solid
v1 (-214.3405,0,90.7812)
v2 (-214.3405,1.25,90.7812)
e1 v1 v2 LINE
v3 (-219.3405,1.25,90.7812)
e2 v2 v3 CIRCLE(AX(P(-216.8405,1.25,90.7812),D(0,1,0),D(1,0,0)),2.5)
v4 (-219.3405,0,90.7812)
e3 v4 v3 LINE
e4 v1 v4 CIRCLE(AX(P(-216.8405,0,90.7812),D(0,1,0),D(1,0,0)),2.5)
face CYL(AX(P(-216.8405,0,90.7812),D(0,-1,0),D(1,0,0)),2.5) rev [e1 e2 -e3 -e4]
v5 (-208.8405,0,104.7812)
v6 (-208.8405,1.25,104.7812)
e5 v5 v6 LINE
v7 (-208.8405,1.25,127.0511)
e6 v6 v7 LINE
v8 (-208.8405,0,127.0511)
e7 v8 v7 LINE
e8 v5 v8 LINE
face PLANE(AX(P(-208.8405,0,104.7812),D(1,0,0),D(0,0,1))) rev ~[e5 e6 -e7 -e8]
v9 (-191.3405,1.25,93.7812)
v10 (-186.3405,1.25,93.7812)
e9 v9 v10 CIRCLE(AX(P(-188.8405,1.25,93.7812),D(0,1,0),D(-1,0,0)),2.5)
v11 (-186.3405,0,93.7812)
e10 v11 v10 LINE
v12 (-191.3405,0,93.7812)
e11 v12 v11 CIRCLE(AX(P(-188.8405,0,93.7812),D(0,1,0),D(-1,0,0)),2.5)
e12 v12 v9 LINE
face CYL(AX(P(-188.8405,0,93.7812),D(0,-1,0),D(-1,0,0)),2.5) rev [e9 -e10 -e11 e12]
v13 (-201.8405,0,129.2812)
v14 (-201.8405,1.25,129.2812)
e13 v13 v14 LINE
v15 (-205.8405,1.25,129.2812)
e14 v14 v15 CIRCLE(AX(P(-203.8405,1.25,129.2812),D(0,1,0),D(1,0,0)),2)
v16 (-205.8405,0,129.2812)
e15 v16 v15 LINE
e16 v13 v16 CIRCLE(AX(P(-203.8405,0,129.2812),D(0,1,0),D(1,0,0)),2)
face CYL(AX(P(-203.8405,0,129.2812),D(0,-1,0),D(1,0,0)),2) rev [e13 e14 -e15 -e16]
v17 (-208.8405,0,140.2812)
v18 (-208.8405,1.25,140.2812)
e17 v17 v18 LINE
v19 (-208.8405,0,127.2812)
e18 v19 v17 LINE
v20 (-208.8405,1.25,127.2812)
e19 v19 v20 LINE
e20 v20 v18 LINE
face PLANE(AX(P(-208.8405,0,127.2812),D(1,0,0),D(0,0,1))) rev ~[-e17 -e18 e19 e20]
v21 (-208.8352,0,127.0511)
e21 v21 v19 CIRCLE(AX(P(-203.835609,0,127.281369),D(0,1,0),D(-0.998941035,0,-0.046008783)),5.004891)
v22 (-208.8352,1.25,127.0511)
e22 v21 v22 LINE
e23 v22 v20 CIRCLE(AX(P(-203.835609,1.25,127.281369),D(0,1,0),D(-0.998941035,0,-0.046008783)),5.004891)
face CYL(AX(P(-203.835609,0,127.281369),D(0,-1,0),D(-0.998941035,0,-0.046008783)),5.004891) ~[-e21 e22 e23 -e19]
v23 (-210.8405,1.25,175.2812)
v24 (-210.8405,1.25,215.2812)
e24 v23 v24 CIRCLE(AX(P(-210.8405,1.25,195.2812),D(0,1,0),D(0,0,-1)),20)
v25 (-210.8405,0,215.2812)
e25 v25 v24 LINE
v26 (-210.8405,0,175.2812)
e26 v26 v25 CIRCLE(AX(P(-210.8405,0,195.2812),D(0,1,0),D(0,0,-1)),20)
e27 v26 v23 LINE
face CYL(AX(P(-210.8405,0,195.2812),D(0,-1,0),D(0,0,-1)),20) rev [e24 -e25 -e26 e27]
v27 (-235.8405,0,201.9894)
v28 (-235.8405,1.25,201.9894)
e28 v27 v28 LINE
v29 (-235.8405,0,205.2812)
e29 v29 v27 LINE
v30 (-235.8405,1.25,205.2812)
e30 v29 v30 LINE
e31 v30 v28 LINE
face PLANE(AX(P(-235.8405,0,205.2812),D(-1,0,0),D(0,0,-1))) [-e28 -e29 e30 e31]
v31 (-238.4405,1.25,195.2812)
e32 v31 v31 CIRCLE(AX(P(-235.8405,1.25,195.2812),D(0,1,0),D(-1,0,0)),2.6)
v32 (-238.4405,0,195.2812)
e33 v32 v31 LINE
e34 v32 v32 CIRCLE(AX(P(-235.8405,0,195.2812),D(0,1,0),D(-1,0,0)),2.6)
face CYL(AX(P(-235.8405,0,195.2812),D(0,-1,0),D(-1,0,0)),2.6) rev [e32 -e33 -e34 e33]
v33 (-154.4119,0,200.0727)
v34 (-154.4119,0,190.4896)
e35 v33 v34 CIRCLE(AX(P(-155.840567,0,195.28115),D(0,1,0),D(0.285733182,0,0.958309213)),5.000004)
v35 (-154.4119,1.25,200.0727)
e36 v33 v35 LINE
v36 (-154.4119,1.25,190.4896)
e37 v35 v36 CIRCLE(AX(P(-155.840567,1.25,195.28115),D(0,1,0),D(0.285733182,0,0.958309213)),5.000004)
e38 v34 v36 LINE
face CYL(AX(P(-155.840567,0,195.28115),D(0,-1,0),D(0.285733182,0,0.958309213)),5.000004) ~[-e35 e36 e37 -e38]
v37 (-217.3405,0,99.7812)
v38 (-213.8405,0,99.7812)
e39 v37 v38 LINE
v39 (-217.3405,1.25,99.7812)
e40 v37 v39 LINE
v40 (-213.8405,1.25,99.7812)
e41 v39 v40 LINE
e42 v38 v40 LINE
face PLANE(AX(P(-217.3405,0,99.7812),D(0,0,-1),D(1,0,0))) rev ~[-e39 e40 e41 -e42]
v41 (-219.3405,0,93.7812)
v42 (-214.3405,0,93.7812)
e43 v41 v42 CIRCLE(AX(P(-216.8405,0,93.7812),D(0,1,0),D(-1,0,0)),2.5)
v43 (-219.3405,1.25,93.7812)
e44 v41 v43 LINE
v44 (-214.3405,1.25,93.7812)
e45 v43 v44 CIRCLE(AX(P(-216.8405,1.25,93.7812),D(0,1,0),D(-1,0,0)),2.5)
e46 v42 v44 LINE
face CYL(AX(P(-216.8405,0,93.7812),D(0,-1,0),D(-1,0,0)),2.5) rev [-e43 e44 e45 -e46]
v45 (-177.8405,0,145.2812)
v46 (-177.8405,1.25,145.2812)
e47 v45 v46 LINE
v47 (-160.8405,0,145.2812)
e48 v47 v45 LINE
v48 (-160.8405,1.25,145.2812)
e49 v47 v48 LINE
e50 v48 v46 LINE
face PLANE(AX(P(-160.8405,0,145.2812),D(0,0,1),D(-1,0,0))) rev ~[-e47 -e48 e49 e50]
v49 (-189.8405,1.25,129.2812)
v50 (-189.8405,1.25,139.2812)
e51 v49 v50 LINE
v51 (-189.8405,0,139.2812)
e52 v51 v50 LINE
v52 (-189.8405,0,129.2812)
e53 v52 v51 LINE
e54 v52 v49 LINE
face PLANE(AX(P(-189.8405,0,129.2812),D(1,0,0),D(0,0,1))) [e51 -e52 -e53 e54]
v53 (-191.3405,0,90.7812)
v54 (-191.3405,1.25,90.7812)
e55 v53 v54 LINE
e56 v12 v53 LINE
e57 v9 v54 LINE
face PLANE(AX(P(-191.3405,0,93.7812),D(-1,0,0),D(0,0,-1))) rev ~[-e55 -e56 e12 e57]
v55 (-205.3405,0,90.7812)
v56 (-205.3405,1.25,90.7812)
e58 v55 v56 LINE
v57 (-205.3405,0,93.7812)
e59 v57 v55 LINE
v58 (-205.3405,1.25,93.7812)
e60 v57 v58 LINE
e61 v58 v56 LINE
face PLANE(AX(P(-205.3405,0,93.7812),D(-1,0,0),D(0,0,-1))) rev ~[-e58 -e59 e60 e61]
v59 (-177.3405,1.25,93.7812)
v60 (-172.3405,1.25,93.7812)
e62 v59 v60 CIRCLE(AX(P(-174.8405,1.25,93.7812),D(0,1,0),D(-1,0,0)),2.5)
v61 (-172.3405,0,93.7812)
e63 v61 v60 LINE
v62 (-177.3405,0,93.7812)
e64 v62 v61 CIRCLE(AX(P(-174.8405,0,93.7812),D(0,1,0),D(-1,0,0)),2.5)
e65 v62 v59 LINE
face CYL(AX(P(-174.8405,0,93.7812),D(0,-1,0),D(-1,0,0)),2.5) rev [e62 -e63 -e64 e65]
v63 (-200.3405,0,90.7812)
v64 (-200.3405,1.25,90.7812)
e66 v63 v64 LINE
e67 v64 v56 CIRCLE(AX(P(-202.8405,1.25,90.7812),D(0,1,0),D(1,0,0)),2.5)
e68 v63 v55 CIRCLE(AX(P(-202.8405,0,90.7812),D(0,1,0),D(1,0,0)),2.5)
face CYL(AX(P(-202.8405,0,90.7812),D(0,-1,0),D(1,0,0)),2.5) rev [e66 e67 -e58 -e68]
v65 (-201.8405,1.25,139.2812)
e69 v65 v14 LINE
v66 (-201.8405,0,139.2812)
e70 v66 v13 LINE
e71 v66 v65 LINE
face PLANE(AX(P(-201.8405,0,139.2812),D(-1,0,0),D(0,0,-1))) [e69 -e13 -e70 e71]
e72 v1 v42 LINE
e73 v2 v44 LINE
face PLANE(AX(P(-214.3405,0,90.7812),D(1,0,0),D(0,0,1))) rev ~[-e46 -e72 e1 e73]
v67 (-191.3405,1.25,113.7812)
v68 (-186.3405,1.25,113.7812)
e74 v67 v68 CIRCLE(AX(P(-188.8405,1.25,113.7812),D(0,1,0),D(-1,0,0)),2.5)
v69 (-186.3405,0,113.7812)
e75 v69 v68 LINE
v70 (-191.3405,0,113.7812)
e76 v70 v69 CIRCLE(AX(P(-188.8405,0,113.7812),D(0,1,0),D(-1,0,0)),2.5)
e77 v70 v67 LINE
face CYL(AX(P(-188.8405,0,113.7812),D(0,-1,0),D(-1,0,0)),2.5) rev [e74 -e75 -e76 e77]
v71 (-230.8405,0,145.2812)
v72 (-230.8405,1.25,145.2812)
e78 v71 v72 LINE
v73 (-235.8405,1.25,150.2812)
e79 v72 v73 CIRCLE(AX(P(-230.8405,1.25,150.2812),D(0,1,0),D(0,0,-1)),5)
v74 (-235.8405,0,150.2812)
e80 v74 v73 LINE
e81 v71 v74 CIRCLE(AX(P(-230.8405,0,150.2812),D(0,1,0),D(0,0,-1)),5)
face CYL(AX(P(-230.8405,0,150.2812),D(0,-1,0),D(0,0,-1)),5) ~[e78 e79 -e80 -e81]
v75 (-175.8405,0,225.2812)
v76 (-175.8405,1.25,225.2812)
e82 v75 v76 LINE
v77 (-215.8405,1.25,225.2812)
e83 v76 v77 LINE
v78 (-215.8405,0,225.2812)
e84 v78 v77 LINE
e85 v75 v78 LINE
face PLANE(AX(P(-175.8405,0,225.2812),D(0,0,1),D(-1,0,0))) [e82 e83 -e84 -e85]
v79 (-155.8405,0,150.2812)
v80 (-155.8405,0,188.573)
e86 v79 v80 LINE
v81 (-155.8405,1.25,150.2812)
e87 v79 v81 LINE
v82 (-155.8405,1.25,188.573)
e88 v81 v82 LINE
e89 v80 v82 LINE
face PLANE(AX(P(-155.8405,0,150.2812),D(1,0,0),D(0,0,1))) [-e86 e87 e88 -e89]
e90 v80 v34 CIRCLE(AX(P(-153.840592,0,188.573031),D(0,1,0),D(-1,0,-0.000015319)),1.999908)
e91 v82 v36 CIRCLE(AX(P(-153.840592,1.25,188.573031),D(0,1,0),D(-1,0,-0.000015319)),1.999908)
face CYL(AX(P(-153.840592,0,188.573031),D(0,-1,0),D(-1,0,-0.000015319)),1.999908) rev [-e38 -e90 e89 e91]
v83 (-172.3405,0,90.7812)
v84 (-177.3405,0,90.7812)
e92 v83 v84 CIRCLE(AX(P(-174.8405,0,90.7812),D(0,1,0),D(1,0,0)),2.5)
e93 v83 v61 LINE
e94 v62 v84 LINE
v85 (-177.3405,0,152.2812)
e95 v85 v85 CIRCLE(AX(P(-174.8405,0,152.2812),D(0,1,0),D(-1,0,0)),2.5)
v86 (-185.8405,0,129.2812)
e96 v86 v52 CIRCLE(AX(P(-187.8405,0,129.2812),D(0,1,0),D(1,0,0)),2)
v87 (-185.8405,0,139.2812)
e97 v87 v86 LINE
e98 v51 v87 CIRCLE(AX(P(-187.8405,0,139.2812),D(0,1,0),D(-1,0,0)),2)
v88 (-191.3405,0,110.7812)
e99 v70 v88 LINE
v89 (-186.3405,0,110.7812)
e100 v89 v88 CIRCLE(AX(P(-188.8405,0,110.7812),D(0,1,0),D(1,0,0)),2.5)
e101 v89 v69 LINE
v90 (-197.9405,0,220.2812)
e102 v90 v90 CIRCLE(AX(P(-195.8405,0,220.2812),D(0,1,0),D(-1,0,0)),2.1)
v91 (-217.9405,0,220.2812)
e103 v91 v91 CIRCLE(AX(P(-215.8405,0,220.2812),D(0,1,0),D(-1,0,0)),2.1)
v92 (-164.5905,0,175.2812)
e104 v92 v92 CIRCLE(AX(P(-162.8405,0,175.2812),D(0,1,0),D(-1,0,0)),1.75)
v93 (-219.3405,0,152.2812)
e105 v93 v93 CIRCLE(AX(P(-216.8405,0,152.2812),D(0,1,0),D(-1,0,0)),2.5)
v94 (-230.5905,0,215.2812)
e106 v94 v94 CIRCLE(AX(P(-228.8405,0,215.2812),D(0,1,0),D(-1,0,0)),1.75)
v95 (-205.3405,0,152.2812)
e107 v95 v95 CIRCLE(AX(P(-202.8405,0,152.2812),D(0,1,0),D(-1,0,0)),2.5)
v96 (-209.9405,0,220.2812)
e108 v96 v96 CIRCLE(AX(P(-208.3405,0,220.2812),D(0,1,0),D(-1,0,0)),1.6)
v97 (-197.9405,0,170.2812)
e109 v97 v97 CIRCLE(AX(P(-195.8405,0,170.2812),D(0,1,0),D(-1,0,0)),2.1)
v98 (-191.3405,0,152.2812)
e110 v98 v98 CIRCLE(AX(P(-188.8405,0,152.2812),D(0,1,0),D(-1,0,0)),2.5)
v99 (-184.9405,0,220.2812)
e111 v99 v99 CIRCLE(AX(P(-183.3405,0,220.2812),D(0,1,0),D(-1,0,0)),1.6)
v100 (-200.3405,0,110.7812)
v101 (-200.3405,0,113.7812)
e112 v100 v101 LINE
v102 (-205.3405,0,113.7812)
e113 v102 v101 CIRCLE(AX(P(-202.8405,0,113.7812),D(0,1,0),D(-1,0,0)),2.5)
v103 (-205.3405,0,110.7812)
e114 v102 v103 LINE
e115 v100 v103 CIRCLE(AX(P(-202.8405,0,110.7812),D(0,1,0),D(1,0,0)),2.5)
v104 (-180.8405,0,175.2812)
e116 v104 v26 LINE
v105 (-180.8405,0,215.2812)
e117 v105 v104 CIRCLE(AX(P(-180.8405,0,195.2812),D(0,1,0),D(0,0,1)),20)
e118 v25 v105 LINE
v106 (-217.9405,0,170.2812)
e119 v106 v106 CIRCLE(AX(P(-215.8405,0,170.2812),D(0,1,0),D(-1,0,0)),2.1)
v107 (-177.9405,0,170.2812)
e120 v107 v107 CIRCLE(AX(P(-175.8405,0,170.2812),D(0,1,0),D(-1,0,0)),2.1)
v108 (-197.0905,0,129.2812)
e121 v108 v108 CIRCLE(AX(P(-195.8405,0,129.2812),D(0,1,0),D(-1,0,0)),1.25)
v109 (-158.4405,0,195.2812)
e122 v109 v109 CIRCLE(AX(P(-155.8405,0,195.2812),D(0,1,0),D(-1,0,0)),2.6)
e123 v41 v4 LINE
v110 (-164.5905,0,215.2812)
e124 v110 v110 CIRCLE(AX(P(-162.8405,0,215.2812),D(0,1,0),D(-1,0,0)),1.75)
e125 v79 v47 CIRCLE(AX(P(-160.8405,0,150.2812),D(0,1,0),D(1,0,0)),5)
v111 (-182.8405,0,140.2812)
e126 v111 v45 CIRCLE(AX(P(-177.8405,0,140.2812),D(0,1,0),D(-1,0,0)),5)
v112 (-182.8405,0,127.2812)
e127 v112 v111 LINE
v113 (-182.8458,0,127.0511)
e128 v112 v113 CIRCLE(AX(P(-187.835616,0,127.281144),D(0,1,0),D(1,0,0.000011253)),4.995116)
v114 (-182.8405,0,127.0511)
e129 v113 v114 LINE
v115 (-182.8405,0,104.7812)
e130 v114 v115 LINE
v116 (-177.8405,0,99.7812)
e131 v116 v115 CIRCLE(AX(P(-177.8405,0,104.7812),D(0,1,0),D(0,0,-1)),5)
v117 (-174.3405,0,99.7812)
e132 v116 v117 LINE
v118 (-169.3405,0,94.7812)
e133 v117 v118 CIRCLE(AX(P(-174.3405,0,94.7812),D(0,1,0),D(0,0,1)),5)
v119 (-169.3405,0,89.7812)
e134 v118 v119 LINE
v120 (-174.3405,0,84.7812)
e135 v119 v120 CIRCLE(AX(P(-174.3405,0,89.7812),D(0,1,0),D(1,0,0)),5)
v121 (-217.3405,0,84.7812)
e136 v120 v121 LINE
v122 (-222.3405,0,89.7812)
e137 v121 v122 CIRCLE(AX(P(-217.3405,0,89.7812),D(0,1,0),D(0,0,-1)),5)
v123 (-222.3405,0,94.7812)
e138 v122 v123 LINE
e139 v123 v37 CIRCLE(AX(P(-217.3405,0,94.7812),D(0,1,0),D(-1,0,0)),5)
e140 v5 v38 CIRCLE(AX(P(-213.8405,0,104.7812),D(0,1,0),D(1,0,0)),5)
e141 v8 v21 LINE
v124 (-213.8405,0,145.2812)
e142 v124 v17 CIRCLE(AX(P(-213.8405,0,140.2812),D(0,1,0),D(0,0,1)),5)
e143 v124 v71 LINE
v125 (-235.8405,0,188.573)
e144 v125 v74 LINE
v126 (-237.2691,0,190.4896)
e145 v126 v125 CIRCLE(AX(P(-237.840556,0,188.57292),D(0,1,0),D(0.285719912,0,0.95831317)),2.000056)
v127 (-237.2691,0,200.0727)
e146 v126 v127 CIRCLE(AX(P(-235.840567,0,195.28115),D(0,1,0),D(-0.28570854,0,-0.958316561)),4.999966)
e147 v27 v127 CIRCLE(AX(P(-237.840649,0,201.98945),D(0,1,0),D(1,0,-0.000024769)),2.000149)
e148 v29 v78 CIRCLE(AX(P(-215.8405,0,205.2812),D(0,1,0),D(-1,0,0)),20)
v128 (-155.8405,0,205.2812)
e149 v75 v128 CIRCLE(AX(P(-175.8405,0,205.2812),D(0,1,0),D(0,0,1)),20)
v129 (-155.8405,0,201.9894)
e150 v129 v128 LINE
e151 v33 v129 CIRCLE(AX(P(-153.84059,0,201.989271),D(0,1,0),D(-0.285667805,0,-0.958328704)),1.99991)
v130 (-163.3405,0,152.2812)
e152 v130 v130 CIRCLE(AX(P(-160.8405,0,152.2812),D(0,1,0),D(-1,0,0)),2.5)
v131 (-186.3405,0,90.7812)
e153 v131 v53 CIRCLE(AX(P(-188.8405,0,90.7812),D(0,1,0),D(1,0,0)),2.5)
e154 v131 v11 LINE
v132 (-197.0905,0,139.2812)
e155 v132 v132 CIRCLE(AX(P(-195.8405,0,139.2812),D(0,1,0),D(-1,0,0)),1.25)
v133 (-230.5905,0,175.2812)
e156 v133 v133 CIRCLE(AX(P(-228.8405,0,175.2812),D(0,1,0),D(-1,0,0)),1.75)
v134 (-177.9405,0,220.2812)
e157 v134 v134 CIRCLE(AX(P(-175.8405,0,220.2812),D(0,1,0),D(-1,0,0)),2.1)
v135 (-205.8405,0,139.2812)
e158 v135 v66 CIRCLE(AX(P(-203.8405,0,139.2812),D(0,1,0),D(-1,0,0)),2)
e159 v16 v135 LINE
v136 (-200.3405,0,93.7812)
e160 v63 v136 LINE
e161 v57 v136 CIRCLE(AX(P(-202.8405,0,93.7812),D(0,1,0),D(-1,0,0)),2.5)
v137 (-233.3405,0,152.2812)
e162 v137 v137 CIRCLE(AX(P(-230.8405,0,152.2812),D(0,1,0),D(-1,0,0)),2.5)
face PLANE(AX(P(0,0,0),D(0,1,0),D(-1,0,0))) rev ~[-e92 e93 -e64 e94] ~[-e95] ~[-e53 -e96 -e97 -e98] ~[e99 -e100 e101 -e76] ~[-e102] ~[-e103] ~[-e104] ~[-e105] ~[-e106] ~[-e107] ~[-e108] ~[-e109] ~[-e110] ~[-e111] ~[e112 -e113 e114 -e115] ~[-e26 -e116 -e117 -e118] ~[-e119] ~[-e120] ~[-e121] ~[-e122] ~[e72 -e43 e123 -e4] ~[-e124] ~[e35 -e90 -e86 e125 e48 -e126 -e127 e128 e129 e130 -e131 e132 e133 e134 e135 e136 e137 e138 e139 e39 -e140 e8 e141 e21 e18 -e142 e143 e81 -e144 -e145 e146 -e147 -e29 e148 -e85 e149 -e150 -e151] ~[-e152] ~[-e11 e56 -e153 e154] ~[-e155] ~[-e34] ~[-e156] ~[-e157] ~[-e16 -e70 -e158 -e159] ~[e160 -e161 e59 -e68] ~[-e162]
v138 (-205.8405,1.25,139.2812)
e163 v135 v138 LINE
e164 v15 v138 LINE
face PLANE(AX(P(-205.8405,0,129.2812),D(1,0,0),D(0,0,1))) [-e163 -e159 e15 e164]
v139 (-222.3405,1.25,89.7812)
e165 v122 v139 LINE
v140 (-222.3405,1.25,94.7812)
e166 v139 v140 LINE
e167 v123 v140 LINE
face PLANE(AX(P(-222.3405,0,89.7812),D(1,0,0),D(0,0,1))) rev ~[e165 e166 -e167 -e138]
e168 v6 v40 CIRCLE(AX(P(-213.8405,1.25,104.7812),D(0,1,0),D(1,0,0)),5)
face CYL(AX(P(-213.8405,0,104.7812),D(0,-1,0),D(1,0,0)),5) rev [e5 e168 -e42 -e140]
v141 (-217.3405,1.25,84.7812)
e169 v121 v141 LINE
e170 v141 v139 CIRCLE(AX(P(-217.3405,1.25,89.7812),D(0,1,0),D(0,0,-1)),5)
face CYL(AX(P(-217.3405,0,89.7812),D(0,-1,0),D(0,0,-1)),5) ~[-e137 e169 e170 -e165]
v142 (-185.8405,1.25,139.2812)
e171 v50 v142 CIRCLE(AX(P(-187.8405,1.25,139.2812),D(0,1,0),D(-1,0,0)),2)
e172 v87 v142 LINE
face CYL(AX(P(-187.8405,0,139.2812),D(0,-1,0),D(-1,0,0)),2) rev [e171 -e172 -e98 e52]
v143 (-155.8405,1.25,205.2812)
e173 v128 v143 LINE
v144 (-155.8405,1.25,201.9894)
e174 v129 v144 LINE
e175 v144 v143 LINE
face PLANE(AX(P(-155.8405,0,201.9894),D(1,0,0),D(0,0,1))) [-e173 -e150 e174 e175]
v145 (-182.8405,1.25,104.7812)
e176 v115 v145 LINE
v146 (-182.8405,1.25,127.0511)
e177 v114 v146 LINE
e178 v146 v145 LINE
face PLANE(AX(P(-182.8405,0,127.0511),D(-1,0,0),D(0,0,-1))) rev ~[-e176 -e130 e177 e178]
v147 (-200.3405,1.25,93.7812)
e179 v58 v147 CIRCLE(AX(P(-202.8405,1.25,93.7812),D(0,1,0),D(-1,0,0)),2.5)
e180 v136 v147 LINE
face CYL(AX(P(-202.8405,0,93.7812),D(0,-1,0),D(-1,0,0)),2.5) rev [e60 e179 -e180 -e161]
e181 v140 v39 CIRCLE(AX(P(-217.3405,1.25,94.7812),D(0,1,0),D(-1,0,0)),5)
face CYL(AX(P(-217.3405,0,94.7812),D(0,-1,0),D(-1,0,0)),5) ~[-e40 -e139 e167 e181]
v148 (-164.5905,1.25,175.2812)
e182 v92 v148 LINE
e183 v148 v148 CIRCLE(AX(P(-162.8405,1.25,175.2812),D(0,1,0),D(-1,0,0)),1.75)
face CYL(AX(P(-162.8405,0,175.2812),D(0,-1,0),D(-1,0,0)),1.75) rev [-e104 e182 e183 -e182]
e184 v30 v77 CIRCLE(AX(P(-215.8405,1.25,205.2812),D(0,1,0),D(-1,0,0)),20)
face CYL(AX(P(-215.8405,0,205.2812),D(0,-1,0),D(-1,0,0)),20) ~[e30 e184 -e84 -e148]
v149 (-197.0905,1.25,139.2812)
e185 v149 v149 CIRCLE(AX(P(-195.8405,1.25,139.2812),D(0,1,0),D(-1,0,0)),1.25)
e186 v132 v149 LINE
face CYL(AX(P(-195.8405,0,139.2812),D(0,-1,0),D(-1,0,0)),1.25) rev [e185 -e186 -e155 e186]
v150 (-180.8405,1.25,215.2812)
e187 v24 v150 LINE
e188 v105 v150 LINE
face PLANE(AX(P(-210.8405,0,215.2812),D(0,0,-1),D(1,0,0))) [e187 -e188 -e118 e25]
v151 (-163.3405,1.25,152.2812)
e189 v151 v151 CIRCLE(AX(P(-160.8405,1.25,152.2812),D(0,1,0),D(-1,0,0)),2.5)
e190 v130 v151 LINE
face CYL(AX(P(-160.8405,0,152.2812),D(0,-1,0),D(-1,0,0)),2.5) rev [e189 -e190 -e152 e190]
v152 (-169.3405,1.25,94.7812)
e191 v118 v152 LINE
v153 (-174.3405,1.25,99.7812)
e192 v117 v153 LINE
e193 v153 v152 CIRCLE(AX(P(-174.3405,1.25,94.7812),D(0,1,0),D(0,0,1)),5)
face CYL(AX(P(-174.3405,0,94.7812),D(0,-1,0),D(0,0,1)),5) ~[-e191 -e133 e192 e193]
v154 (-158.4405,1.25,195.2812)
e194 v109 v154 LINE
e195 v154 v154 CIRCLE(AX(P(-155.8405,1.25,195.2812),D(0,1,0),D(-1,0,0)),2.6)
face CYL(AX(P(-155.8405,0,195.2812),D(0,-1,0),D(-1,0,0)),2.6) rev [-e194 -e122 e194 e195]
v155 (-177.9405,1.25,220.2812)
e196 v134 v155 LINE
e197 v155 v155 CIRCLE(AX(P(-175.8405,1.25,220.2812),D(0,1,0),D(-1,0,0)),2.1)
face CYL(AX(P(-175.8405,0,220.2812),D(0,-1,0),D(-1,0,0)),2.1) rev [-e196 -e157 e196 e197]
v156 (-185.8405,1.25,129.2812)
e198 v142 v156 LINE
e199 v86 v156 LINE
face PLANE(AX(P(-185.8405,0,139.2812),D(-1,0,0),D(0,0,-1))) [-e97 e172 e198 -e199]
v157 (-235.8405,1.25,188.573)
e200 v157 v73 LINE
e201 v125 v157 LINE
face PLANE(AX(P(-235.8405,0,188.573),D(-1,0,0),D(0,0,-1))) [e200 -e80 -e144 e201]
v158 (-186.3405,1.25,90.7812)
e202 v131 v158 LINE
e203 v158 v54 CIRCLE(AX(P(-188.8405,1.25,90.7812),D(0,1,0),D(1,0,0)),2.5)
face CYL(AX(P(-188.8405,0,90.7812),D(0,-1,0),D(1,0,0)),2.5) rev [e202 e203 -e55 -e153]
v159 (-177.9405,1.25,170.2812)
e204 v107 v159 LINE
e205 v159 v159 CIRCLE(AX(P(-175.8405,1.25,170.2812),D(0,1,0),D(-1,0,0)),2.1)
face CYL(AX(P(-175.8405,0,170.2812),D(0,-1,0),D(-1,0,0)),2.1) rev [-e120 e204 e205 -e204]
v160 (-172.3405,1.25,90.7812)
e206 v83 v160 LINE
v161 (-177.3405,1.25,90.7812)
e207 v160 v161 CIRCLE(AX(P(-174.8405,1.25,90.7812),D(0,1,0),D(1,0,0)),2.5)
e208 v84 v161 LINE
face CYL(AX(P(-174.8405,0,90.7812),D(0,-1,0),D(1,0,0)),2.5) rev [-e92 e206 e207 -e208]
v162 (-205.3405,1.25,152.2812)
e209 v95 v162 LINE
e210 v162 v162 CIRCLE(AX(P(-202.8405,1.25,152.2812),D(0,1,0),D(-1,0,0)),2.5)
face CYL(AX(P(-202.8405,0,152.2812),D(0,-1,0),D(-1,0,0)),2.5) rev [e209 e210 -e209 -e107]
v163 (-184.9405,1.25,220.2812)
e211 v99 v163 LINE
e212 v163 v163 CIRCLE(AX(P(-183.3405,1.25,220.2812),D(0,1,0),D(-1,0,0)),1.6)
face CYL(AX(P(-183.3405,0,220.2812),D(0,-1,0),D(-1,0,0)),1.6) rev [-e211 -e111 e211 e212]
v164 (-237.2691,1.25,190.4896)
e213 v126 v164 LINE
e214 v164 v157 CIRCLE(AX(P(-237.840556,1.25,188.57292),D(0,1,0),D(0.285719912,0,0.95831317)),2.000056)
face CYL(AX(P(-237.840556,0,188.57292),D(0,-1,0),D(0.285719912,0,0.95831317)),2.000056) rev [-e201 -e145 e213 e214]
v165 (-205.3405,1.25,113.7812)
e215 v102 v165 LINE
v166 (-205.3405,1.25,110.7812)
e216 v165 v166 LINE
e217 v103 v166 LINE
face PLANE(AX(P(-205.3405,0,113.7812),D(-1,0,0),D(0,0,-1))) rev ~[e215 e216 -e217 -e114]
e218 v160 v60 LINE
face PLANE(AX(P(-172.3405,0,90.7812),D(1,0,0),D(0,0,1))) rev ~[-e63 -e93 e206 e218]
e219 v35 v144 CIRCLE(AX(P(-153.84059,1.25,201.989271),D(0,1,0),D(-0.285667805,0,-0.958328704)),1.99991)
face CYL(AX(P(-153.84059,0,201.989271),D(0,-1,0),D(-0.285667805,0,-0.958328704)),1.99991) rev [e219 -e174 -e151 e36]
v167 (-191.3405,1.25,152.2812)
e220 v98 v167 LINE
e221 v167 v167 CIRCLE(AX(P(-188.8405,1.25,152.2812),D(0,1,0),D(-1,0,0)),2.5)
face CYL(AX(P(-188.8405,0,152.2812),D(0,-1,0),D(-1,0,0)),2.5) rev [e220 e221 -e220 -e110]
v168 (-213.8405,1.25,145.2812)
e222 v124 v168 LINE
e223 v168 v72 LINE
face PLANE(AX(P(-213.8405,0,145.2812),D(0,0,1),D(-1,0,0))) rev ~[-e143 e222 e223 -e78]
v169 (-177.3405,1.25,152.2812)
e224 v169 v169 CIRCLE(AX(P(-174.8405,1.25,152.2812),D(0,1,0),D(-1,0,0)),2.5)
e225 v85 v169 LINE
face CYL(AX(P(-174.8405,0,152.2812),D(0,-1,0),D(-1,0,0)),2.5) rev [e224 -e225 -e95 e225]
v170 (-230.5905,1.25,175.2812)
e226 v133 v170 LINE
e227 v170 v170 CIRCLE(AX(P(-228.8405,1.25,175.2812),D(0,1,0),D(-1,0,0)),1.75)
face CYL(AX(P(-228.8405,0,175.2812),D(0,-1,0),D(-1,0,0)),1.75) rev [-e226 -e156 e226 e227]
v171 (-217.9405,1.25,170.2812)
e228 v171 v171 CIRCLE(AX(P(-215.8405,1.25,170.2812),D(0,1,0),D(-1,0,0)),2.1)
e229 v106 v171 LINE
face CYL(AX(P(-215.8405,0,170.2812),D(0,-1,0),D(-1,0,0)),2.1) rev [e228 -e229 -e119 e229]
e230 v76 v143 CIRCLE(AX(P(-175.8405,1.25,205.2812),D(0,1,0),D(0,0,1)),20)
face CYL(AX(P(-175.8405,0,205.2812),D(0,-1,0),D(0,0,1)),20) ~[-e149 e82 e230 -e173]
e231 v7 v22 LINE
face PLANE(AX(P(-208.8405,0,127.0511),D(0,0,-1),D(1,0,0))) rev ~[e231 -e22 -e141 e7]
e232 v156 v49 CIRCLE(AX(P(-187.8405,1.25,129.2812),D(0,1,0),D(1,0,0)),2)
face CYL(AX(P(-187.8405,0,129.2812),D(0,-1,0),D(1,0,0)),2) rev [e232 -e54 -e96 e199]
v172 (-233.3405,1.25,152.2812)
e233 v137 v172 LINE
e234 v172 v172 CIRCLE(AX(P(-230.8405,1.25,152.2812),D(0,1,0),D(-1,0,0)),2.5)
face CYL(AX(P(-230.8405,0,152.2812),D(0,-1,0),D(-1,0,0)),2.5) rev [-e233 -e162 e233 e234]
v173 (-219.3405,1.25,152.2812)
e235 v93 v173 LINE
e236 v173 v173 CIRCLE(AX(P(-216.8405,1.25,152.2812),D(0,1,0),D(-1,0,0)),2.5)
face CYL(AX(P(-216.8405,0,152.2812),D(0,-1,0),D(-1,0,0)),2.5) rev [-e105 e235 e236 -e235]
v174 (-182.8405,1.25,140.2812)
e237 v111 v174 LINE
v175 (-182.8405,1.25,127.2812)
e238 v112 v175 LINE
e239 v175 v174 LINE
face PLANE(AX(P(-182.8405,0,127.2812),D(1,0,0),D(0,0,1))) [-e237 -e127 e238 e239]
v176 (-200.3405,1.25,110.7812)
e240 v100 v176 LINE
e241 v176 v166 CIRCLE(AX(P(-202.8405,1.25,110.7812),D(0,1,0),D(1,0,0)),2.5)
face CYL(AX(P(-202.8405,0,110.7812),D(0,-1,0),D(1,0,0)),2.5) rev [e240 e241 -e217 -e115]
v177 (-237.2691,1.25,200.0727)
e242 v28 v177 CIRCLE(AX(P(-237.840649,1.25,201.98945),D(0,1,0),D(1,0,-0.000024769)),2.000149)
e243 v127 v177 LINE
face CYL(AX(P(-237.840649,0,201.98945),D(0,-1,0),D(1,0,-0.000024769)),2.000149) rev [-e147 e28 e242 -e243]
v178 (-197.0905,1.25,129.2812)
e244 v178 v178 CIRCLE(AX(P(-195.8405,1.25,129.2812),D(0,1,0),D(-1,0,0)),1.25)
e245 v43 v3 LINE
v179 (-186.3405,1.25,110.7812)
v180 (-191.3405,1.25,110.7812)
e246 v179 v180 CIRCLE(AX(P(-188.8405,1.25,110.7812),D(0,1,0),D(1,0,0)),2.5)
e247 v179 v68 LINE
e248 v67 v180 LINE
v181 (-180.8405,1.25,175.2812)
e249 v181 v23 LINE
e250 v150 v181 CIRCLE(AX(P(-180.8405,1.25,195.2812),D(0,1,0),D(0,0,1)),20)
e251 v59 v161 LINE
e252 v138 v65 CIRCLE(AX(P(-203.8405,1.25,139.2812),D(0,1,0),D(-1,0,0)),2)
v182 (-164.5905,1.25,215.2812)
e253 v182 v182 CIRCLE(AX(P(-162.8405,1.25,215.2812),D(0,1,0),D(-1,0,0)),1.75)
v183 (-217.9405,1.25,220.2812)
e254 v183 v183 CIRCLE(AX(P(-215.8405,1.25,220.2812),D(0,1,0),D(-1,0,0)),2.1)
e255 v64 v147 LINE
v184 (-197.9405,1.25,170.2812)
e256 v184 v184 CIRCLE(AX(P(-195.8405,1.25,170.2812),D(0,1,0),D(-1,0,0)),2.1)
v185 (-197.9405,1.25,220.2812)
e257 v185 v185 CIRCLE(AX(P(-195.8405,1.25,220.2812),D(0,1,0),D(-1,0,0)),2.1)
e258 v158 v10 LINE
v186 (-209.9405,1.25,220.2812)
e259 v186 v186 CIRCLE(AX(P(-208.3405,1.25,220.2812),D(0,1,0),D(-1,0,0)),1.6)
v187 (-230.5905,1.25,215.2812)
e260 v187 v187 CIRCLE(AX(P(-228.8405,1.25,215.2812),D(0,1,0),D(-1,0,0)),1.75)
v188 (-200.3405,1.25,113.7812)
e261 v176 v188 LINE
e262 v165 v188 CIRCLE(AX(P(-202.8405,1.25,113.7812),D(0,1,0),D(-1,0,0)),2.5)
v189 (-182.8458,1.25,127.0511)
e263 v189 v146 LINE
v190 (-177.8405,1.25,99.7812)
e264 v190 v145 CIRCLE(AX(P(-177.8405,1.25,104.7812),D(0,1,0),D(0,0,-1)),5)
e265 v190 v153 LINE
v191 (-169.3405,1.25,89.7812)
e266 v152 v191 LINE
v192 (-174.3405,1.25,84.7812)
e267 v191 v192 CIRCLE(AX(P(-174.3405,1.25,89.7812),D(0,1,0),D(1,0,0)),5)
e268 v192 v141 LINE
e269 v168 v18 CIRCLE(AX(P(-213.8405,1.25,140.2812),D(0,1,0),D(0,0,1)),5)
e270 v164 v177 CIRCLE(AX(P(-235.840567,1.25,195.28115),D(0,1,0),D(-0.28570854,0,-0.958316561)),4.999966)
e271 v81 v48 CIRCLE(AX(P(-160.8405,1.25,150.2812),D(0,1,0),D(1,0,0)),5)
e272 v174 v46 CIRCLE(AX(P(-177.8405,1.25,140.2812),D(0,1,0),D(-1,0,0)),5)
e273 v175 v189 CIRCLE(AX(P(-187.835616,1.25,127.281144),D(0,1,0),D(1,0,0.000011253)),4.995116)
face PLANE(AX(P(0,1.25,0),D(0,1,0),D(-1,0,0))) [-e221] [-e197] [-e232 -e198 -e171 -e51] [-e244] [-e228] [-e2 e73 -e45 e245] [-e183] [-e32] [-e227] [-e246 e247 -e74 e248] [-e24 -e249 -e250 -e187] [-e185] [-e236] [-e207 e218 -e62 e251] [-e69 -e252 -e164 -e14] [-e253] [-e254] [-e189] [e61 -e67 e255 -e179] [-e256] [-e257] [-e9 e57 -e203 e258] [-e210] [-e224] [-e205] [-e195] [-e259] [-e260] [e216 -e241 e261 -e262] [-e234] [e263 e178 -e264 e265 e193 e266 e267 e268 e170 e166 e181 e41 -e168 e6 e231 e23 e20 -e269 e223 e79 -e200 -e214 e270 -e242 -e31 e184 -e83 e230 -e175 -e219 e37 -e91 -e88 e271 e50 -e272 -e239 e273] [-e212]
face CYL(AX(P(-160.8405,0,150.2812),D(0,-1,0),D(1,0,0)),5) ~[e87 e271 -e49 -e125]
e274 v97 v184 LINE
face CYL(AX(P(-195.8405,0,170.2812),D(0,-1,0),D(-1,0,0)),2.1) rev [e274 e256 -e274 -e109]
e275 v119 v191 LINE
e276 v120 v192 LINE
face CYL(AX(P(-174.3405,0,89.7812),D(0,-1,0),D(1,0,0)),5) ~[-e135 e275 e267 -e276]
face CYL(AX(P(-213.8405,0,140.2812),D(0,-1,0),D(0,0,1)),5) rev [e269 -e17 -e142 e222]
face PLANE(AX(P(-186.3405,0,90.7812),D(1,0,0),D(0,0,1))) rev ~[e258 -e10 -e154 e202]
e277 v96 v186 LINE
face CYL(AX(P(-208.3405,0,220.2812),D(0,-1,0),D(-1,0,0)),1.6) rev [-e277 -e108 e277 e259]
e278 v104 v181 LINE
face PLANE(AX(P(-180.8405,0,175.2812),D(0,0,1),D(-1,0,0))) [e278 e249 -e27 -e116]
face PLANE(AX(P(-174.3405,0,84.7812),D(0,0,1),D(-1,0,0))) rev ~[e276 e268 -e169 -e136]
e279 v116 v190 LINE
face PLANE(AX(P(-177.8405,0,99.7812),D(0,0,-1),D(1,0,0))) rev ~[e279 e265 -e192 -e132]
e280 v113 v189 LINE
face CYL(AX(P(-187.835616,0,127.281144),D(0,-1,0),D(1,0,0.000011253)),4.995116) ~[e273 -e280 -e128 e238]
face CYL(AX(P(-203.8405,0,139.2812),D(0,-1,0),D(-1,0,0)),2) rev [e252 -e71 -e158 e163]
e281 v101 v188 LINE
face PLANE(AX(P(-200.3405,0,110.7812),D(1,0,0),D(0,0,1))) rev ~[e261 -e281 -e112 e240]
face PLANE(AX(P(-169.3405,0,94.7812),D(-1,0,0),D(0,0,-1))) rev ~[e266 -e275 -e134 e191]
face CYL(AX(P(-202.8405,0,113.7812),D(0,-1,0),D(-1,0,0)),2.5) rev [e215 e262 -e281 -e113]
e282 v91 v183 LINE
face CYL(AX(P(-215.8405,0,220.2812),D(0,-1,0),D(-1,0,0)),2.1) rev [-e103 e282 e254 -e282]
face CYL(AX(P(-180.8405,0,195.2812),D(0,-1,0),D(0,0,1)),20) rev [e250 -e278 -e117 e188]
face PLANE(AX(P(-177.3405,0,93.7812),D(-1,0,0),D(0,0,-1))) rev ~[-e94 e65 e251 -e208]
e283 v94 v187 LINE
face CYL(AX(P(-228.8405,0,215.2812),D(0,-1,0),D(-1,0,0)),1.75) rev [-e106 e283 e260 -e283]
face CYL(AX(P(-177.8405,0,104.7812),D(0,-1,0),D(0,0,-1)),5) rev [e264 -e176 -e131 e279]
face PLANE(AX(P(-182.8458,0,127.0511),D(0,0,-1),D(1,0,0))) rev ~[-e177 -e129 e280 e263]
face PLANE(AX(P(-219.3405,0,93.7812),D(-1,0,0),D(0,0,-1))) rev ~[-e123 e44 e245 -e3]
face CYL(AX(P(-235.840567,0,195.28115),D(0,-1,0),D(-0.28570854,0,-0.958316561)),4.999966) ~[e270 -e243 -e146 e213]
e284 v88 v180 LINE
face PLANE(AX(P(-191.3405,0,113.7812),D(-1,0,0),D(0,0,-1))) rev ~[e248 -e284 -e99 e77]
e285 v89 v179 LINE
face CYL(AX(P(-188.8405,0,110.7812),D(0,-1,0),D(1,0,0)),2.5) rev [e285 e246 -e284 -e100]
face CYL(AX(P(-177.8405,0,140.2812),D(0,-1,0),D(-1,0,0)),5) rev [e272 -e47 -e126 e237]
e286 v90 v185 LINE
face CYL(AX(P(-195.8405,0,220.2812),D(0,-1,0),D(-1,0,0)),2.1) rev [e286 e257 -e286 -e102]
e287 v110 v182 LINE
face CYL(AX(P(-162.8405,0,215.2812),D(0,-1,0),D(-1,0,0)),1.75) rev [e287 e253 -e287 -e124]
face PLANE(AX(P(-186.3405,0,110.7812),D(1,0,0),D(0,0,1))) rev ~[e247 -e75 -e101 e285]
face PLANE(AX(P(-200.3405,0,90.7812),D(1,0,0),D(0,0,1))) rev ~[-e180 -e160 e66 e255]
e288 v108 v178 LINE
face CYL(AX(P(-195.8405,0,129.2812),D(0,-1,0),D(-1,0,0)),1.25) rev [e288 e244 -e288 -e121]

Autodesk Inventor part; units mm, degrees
ref_plane "YZ Plane" through (0, 0, 0) normal (1, 0, 0) x (0, 1, 0)
ref_plane "XZ Plane" through (0, 0, 0) normal (0, 1, 0) x (-1, 0, 0)
ref_plane "XY Plane" through (0, 0, 0) normal (0, 0, 1) x (1, 0, 0)
sketch "Sketch1" plane through (0, 0, 0) normal (0, 1, 0) x (-1, 0, 0)
  line L0 (191.3405, 93.7812) -> (191.3405, 90.7812)
  circle A0 centre (230.8405, 152.2812) radius 2.5
  arc A1 (154.4119, 200.0727) -> (155.8405, 201.9894) centre (153.8405, 201.9894) ccw
  line L1 (200.3405, 110.7812) -> (200.3405, 113.7812)
  line L2 (186.3405, 90.7812) -> (186.3405, 93.7812)
  circle A2 centre (216.8405, 152.2812) radius 2.5
  arc A3 (213.8405, 145.2812) -> (208.8405, 140.2812) centre (213.8405, 140.2812) ccw
  line L3 (180.8405, 175.2812) -> (210.8405, 175.2812)
  arc A4 (182.8405, 127.2812) -> (182.8458, 127.0511) centre (187.8405, 127.2812) ccw
  line L4 (210.8405, 215.2812) -> (180.8405, 215.2812)
  arc A5 (201.8405, 129.2812) -> (205.8405, 129.2812) centre (203.8405, 129.2812) ccw
  arc A6 (154.4119, 200.0727) -> (154.4119, 190.4896) centre (155.8405, 195.2812) ccw
  line L5 (219.3405, 93.7812) -> (219.3405, 90.7812)
  line L6 (217.3405, 99.7812) -> (213.8405, 99.7812)
  arc A7 (214.3405, 90.7812) -> (219.3405, 90.7812) centre (216.8405, 90.7812) ccw
  line L7 (208.8405, 104.7812) -> (208.8405, 127.0511)
  arc A8 (200.3405, 110.7812) -> (205.3405, 110.7812) centre (202.8405, 110.7812) ccw
  circle A9 centre (215.8405, 220.2812) radius 2.1
  circle A10 centre (160.8405, 152.2812) radius 2.5
  arc A11 (191.3405, 93.7812) -> (186.3405, 93.7812) centre (188.8405, 93.7812) ccw
  line L8 (182.8405, 127.0511) -> (182.8405, 104.7812)
  arc A12 (169.3405, 89.7812) -> (174.3405, 84.7812) centre (174.3405, 89.7812) ccw
  circle A13 centre (215.8405, 170.2812) radius 2.1
  line L9 (175.8405, 225.2812) -> (215.8405, 225.2812)
  arc A14 (217.3405, 84.7812) -> (222.3405, 89.7812) centre (217.3405, 89.7812) ccw
  arc A15 (186.3405, 110.7812) -> (191.3405, 110.7812) centre (188.8405, 110.7812) ccw
  line L10 (205.3405, 93.7812) -> (205.3405, 90.7812)
  line L11 (186.3405, 110.7812) -> (186.3405, 113.7812)
  arc A16 (237.2691, 190.4896) -> (235.8405, 188.573) centre (237.8405, 188.573) ccw
  line L12 (177.3405, 93.7812) -> (177.3405, 90.7812)
  arc A17 (191.3405, 113.7812) -> (186.3405, 113.7812) centre (188.8405, 113.7812) ccw
  line L13 (189.8405, 129.2812) -> (189.8405, 139.2812)
  line L14 (235.8405, 188.573) -> (235.8405, 150.2812)
  circle A18 centre (175.8405, 170.2812) radius 2.1
  line L15 (172.3405, 90.7812) -> (172.3405, 93.7812)
  line L16 (174.3405, 84.7812) -> (217.3405, 84.7812)
  arc A19 (172.3405, 90.7812) -> (177.3405, 90.7812) centre (174.8405, 90.7812) ccw
  circle A20 centre (183.3405, 220.2812) radius 1.6
  line L17 (185.8405, 139.2812) -> (185.8405, 129.2812)
  arc A21 (222.3405, 94.7812) -> (217.3405, 99.7812) centre (217.3405, 94.7812) ccw
  arc A22 (200.3405, 90.7812) -> (205.3405, 90.7812) centre (202.8405, 90.7812) ccw
  line L18 (155.8405, 150.2812) -> (155.8405, 188.573)
  arc A23 (235.8405, 205.2812) -> (215.8405, 225.2812) centre (215.8405, 205.2812) ccw
  arc A24 (155.8405, 188.573) -> (154.4119, 190.4896) centre (153.8405, 188.573) ccw
  line L19 (222.3405, 89.7812) -> (222.3405, 94.7812)
  arc A25 (185.8405, 129.2812) -> (189.8405, 129.2812) centre (187.8405, 129.2812) ccw
  circle A26 centre (155.8405, 195.2812) radius 2.6
  line L20 (160.8405, 145.2812) -> (177.8405, 145.2812)
  arc A27 (177.3405, 93.7812) -> (172.3405, 93.7812) centre (174.8405, 93.7812) ccw
  arc A28 (186.3405, 90.7812) -> (191.3405, 90.7812) centre (188.8405, 90.7812) ccw
  circle A29 centre (202.8405, 152.2812) radius 2.5
  arc A30 (182.8405, 140.2812) -> (177.8405, 145.2812) centre (177.8405, 140.2812) ccw
  circle A31 centre (174.8405, 152.2812) radius 2.5
  line L21 (235.8405, 205.2812) -> (235.8405, 201.9894)
  line L22 (155.8405, 201.9894) -> (155.8405, 205.2812)
  line L23 (201.8405, 139.2812) -> (201.8405, 129.2812)
  circle A32 centre (162.8405, 215.2812) radius 1.75
  line L24 (208.8405, 127.0511) -> (208.8352, 127.0511)
  arc A33 (237.2691, 190.4896) -> (237.2691, 200.0727) centre (235.8405, 195.2812) ccw
  circle A34 centre (208.3405, 220.2812) radius 1.6
  arc A35 (208.8405, 104.7812) -> (213.8405, 99.7812) centre (213.8405, 104.7812) ccw
  arc A36 (189.8405, 139.2812) -> (185.8405, 139.2812) centre (187.8405, 139.2812) ccw
  arc A37 (219.3405, 93.7812) -> (214.3405, 93.7812) centre (216.8405, 93.7812) ccw
  line L25 (169.3405, 94.7812) -> (169.3405, 89.7812)
  circle A38 centre (228.8405, 175.2812) radius 1.75
  arc A39 (210.8405, 175.2812) -> (210.8405, 215.2812) centre (210.8405, 195.2812) ccw
  arc A40 (208.8352, 127.0511) -> (208.8405, 127.2812) centre (203.8405, 127.2812) ccw
  arc A41 (205.3405, 113.7812) -> (200.3405, 113.7812) centre (202.8405, 113.7812) ccw
  circle A42 centre (188.8405, 152.2812) radius 2.5
  arc A43 (174.3405, 99.7812) -> (169.3405, 94.7812) centre (174.3405, 94.7812) ccw
  circle A44 centre (195.8405, 220.2812) radius 2.1
  arc A45 (235.8405, 201.9894) -> (237.2691, 200.0727) centre (237.8405, 201.9894) ccw
  arc A46 (205.8405, 139.2812) -> (201.8405, 139.2812) centre (203.8405, 139.2812) ccw
  arc A47 (205.3405, 93.7812) -> (200.3405, 93.7812) centre (202.8405, 93.7812) ccw
  line L26 (208.8405, 127.2812) -> (208.8405, 140.2812)
  line L27 (182.8405, 127.2812) -> (182.8405, 140.2812)
  arc A48 (155.8405, 150.2812) -> (160.8405, 145.2812) centre (160.8405, 150.2812) ccw
  line L28 (200.3405, 90.7812) -> (200.3405, 93.7812)
  line L29 (182.8458, 127.0511) -> (182.8405, 127.0511)
  circle A49 centre (195.8405, 170.2812) radius 2.1
  arc A50 (180.8405, 215.2812) -> (180.8405, 175.2812) centre (180.8405, 195.2812) ccw
  line L30 (205.3405, 113.7812) -> (205.3405, 110.7812)
  line L31 (205.8405, 129.2812) -> (205.8405, 139.2812)
  line L32 (177.8405, 99.7812) -> (174.3405, 99.7812)
  circle A51 centre (235.8405, 195.2812) radius 2.6
  circle A52 centre (195.8405, 129.2812) radius 1.25
  line L33 (191.3405, 113.7812) -> (191.3405, 110.7812)
  arc A53 (175.8405, 225.2812) -> (155.8405, 205.2812) centre (175.8405, 205.2812) ccw
  circle A54 centre (162.8405, 175.2812) radius 1.75
  arc A55 (230.8405, 145.2812) -> (235.8405, 150.2812) centre (230.8405, 150.2812) ccw
  arc A56 (177.8405, 99.7812) -> (182.8405, 104.7812) centre (177.8405, 104.7812) ccw
  circle A57 centre (228.8405, 215.2812) radius 1.75
  circle A58 centre (175.8405, 220.2812) radius 2.1
  line L34 (213.8405, 145.2812) -> (230.8405, 145.2812)
  line L35 (214.3405, 90.7812) -> (214.3405, 93.7812)
  circle A59 centre (195.8405, 139.2812) radius 1.25
  line L36 (191.3405, 93.7812) -> (191.3405, 90.7812)
  circle A60 centre (230.8405, 152.2812) radius 2.5
  arc A61 (154.4119, 200.0727) -> (155.8405, 201.9894) centre (153.8405, 201.9894) ccw
  line L37 (200.3405, 110.7812) -> (200.3405, 113.7812)
  line L38 (186.3405, 90.7812) -> (186.3405, 93.7812)
  circle A62 centre (216.8405, 152.2812) radius 2.5
  arc A63 (213.8405, 145.2812) -> (208.8405, 140.2812) centre (213.8405, 140.2812) ccw
  line L39 (180.8405, 175.2812) -> (210.8405, 175.2812)
  arc A64 (182.8405, 127.2812) -> (182.8458, 127.0511) centre (187.8405, 127.2812) ccw
  line L40 (210.8405, 215.2812) -> (180.8405, 215.2812)
  arc A65 (201.8405, 129.2812) -> (205.8405, 129.2812) centre (203.8405, 129.2812) ccw
  arc A66 (154.4119, 200.0727) -> (154.4119, 190.4896) centre (155.8405, 195.2812) ccw
  line L41 (219.3405, 93.7812) -> (219.3405, 90.7812)
  line L42 (217.3405, 99.7812) -> (213.8405, 99.7812)
  arc A67 (214.3405, 90.7812) -> (219.3405, 90.7812) centre (216.8405, 90.7812) ccw
  line L43 (208.8405, 104.7812) -> (208.8405, 127.0511)
  arc A68 (200.3405, 110.7812) -> (205.3405, 110.7812) centre (202.8405, 110.7812) ccw
  circle A69 centre (215.8405, 220.2812) radius 2.1
  circle A70 centre (160.8405, 152.2812) radius 2.5
  arc A71 (191.3405, 93.7812) -> (186.3405, 93.7812) centre (188.8405, 93.7812) ccw
  line L44 (182.8405, 127.0511) -> (182.8405, 104.7812)
  arc A72 (169.3405, 89.7812) -> (174.3405, 84.7812) centre (174.3405, 89.7812) ccw
  circle A73 centre (215.8405, 170.2812) radius 2.1
  line L45 (175.8405, 225.2812) -> (215.8405, 225.2812)
  arc A74 (217.3405, 84.7812) -> (222.3405, 89.7812) centre (217.3405, 89.7812) ccw
  arc A75 (186.3405, 110.7812) -> (191.3405, 110.7812) centre (188.8405, 110.7812) ccw
  line L46 (205.3405, 93.7812) -> (205.3405, 90.7812)
  line L47 (186.3405, 110.7812) -> (186.3405, 113.7812)
  arc A76 (237.2691, 190.4896) -> (235.8405, 188.573) centre (237.8405, 188.573) ccw
  line L48 (177.3405, 93.7812) -> (177.3405, 90.7812)
  arc A77 (191.3405, 113.7812) -> (186.3405, 113.7812) centre (188.8405, 113.7812) ccw
  line L49 (189.8405, 129.2812) -> (189.8405, 139.2812)
  line L50 (235.8405, 188.573) -> (235.8405, 150.2812)
  circle A78 centre (175.8405, 170.2812) radius 2.1
  line L51 (172.3405, 90.7812) -> (172.3405, 93.7812)
  line L52 (174.3405, 84.7812) -> (217.3405, 84.7812)
  arc A79 (172.3405, 90.7812) -> (177.3405, 90.7812) centre (174.8405, 90.7812) ccw
  circle A80 centre (183.3405, 220.2812) radius 1.6
  line L53 (185.8405, 139.2812) -> (185.8405, 129.2812)
  arc A81 (222.3405, 94.7812) -> (217.3405, 99.7812) centre (217.3405, 94.7812) ccw
  arc A82 (200.3405, 90.7812) -> (205.3405, 90.7812) centre (202.8405, 90.7812) ccw
  line L54 (155.8405, 150.2812) -> (155.8405, 188.573)
  arc A83 (235.8405, 205.2812) -> (215.8405, 225.2812) centre (215.8405, 205.2812) ccw
  arc A84 (155.8405, 188.573) -> (154.4119, 190.4896) centre (153.8405, 188.573) ccw
  line L55 (222.3405, 89.7812) -> (222.3405, 94.7812)
  arc A85 (185.8405, 129.2812) -> (189.8405, 129.2812) centre (187.8405, 129.2812) ccw
  circle A86 centre (155.8405, 195.2812) radius 2.6
  line L56 (160.8405, 145.2812) -> (177.8405, 145.2812)
  arc A87 (177.3405, 93.7812) -> (172.3405, 93.7812) centre (174.8405, 93.7812) ccw
  arc A88 (186.3405, 90.7812) -> (191.3405, 90.7812) centre (188.8405, 90.7812) ccw
  circle A89 centre (202.8405, 152.2812) radius 2.5
  arc A90 (182.8405, 140.2812) -> (177.8405, 145.2812) centre (177.8405, 140.2812) ccw
  circle A91 centre (174.8405, 152.2812) radius 2.5
  line L57 (235.8405, 205.2812) -> (235.8405, 201.9894)
  line L58 (155.8405, 201.9894) -> (155.8405, 205.2812)
  line L59 (201.8405, 139.2812) -> (201.8405, 129.2812)
  circle A92 centre (162.8405, 215.2812) radius 1.75
  line L60 (208.8405, 127.0511) -> (208.8352, 127.0511)
  arc A93 (237.2691, 190.4896) -> (237.2691, 200.0727) centre (235.8405, 195.2812) ccw
  circle A94 centre (208.3405, 220.2812) radius 1.6
  arc A95 (208.8405, 104.7812) -> (213.8405, 99.7812) centre (213.8405, 104.7812) ccw
  arc A96 (189.8405, 139.2812) -> (185.8405, 139.2812) centre (187.8405, 139.2812) ccw
  arc A97 (219.3405, 93.7812) -> (214.3405, 93.7812) centre (216.8405, 93.7812) ccw
  line L61 (169.3405, 94.7812) -> (169.3405, 89.7812)
  circle A98 centre (228.8405, 175.2812) radius 1.75
  arc A99 (210.8405, 175.2812) -> (210.8405, 215.2812) centre (210.8405, 195.2812) ccw
  arc A100 (208.8352, 127.0511) -> (208.8405, 127.2812) centre (203.8405, 127.2812) ccw
  arc A101 (205.3405, 113.7812) -> (200.3405, 113.7812) centre (202.8405, 113.7812) ccw
  circle A102 centre (188.8405, 152.2812) radius 2.5
  arc A103 (174.3405, 99.7812) -> (169.3405, 94.7812) centre (174.3405, 94.7812) ccw
  circle A104 centre (195.8405, 220.2812) radius 2.1
  arc A105 (235.8405, 201.9894) -> (237.2691, 200.0727) centre (237.8405, 201.9894) ccw
  arc A106 (205.8405, 139.2812) -> (201.8405, 139.2812) centre (203.8405, 139.2812) ccw
  arc A107 (205.3405, 93.7812) -> (200.3405, 93.7812) centre (202.8405, 93.7812) ccw
  line L62 (208.8405, 127.2812) -> (208.8405, 140.2812)
  line L63 (182.8405, 127.2812) -> (182.8405, 140.2812)
  arc A108 (155.8405, 150.2812) -> (160.8405, 145.2812) centre (160.8405, 150.2812) ccw
  line L64 (200.3405, 90.7812) -> (200.3405, 93.7812)
  line L65 (182.8458, 127.0511) -> (182.8405, 127.0511)
  circle A109 centre (195.8405, 170.2812) radius 2.1
  arc A110 (180.8405, 215.2812) -> (180.8405, 175.2812) centre (180.8405, 195.2812) ccw
  line L66 (205.3405, 113.7812) -> (205.3405, 110.7812)
  line L67 (205.8405, 129.2812) -> (205.8405, 139.2812)
  line L68 (177.8405, 99.7812) -> (174.3405, 99.7812)
  circle A111 centre (235.8405, 195.2812) radius 2.6
  circle A112 centre (195.8405, 129.2812) radius 1.25
  line L69 (191.3405, 113.7812) -> (191.3405, 110.7812)
  arc A113 (175.8405, 225.2812) -> (155.8405, 205.2812) centre (175.8405, 205.2812) ccw
  circle A114 centre (162.8405, 175.2812) radius 1.75
  arc A115 (230.8405, 145.2812) -> (235.8405, 150.2812) centre (230.8405, 150.2812) ccw
  arc A116 (177.8405, 99.7812) -> (182.8405, 104.7812) centre (177.8405, 104.7812) ccw
  circle A117 centre (228.8405, 215.2812) radius 1.75
  circle A118 centre (175.8405, 220.2812) radius 2.1
  line L70 (213.8405, 145.2812) -> (230.8405, 145.2812)
  line L71 (214.3405, 90.7812) -> (214.3405, 93.7812)
  circle A119 centre (195.8405, 139.2812) radius 1.25
  line L72 (191.3405, 93.7812) -> (191.3405, 90.7812)
  circle A120 centre (230.8405, 152.2812) radius 2.5
  arc A121 (154.4119, 200.0727) -> (155.8405, 201.9894) centre (153.8405, 201.9894) ccw
  line L73 (200.3405, 110.7812) -> (200.3405, 113.7812)
  line L74 (186.3405, 90.7812) -> (186.3405, 93.7812)
  circle A122 centre (216.8405, 152.2812) radius 2.5
  arc A123 (213.8405, 145.2812) -> (208.8405, 140.2812) centre (213.8405, 140.2812) ccw
  line L75 (180.8405, 175.2812) -> (210.8405, 175.2812)
  arc A124 (182.8405, 127.2812) -> (182.8458, 127.0511) centre (187.8405, 127.2812) ccw
  line L76 (210.8405, 215.2812) -> (180.8405, 215.2812)
  arc A125 (201.8405, 129.2812) -> (205.8405, 129.2812) centre (203.8405, 129.2812) ccw
  arc A126 (154.4119, 200.0727) -> (154.4119, 190.4896) centre (155.8405, 195.2812) ccw
  line L77 (219.3405, 93.7812) -> (219.3405, 90.7812)
  line L78 (217.3405, 99.7812) -> (213.8405, 99.7812)
  arc A127 (214.3405, 90.7812) -> (219.3405, 90.7812) centre (216.8405, 90.7812) ccw
  line L79 (208.8405, 104.7812) -> (208.8405, 127.0511)
  arc A128 (200.3405, 110.7812) -> (205.3405, 110.7812) centre (202.8405, 110.7812) ccw
  circle A129 centre (215.8405, 220.2812) radius 2.1
  circle A130 centre (160.8405, 152.2812) radius 2.5
  arc A131 (191.3405, 93.7812) -> (186.3405, 93.7812) centre (188.8405, 93.7812) ccw
  line L80 (182.8405, 127.0511) -> (182.8405, 104.7812)
  arc A132 (169.3405, 89.7812) -> (174.3405, 84.7812) centre (174.3405, 89.7812) ccw
  circle A133 centre (215.8405, 170.2812) radius 2.1
  line L81 (175.8405, 225.2812) -> (215.8405, 225.2812)
  arc A134 (217.3405, 84.7812) -> (222.3405, 89.7812) centre (217.3405, 89.7812) ccw
  arc A135 (186.3405, 110.7812) -> (191.3405, 110.7812) centre (188.8405, 110.7812) ccw
  line L82 (205.3405, 93.7812) -> (205.3405, 90.7812)
  line L83 (186.3405, 110.7812) -> (186.3405, 113.7812)
  arc A136 (237.2691, 190.4896) -> (235.8405, 188.573) centre (237.8405, 188.573) ccw
  line L84 (177.3405, 93.7812) -> (177.3405, 90.7812)
  arc A137 (191.3405, 113.7812) -> (186.3405, 113.7812) centre (188.8405, 113.7812) ccw
  line L85 (189.8405, 129.2812) -> (189.8405, 139.2812)
  line L86 (235.8405, 188.573) -> (235.8405, 150.2812)
  circle A138 centre (175.8405, 170.2812) radius 2.1
  line L87 (172.3405, 90.7812) -> (172.3405, 93.7812)
  line L88 (174.3405, 84.7812) -> (217.3405, 84.7812)
  arc A139 (172.3405, 90.7812) -> (177.3405, 90.7812) centre (174.8405, 90.7812) ccw
  circle A140 centre (183.3405, 220.2812) radius 1.6
  line L89 (185.8405, 139.2812) -> (185.8405, 129.2812)
  arc A141 (222.3405, 94.7812) -> (217.3405, 99.7812) centre (217.3405, 94.7812) ccw
  arc A142 (200.3405, 90.7812) -> (205.3405, 90.7812) centre (202.8405, 90.7812) ccw
  line L90 (155.8405, 150.2812) -> (155.8405, 188.573)
  arc A143 (235.8405, 205.2812) -> (215.8405, 225.2812) centre (215.8405, 205.2812) ccw
  arc A144 (155.8405, 188.573) -> (154.4119, 190.4896) centre (153.8405, 188.573) ccw
  line L91 (222.3405, 89.7812) -> (222.3405, 94.7812)
  arc A145 (185.8405, 129.2812) -> (189.8405, 129.2812) centre (187.8405, 129.2812) ccw
  circle A146 centre (155.8405, 195.2812) radius 2.6
  line L92 (160.8405, 145.2812) -> (177.8405, 145.2812)
  arc A147 (177.3405, 93.7812) -> (172.3405, 93.7812) centre (174.8405, 93.7812) ccw
  arc A148 (186.3405, 90.7812) -> (191.3405, 90.7812) centre (188.8405, 90.7812) ccw
  circle A149 centre (202.8405, 152.2812) radius 2.5
  arc A150 (182.8405, 140.2812) -> (177.8405, 145.2812) centre (177.8405, 140.2812) ccw
  circle A151 centre (174.8405, 152.2812) radius 2.5
  line L93 (235.8405, 205.2812) -> (235.8405, 201.9894)
  line L94 (155.8405, 201.9894) -> (155.8405, 205.2812)
  line L95 (201.8405, 139.2812) -> (201.8405, 129.2812)
  circle A152 centre (162.8405, 215.2812) radius 1.75
  line L96 (208.8405, 127.0511) -> (208.8352, 127.0511)
  arc A153 (237.2691, 190.4896) -> (237.2691, 200.0727) centre (235.8405, 195.2812) ccw
  circle A154 centre (208.3405, 220.2812) radius 1.6
  arc A155 (208.8405, 104.7812) -> (213.8405, 99.7812) centre (213.8405, 104.7812) ccw
  arc A156 (189.8405, 139.2812) -> (185.8405, 139.2812) centre (187.8405, 139.2812) ccw
  arc A157 (219.3405, 93.7812) -> (214.3405, 93.7812) centre (216.8405, 93.7812) ccw
  line L97 (169.3405, 94.7812) -> (169.3405, 89.7812)
  circle A158 centre (228.8405, 175.2812) radius 1.75
  arc A159 (210.8405, 175.2812) -> (210.8405, 215.2812) centre (210.8405, 195.2812) ccw
  arc A160 (208.8352, 127.0511) -> (208.8405, 127.2812) centre (203.8405, 127.2812) ccw
  arc A161 (205.3405, 113.7812) -> (200.3405, 113.7812) centre (202.8405, 113.7812) ccw
  circle A162 centre (188.8405, 152.2812) radius 2.5
  arc A163 (174.3405, 99.7812) -> (169.3405, 94.7812) centre (174.3405, 94.7812) ccw
  circle A164 centre (195.8405, 220.2812) radius 2.1
  arc A165 (235.8405, 201.9894) -> (237.2691, 200.0727) centre (237.8405, 201.9894) ccw
  arc A166 (205.8405, 139.2812) -> (201.8405, 139.2812) centre (203.8405, 139.2812) ccw
  arc A167 (205.3405, 93.7812) -> (200.3405, 93.7812) centre (202.8405, 93.7812) ccw
  line L98 (208.8405, 127.2812) -> (208.8405, 140.2812)
  line L99 (182.8405, 127.2812) -> (182.8405, 140.2812)
  arc A168 (155.8405, 150.2812) -> (160.8405, 145.2812) centre (160.8405, 150.2812) ccw
  line L100 (200.3405, 90.7812) -> (200.3405, 93.7812)
  line L101 (182.8458, 127.0511) -> (182.8405, 127.0511)
  circle A169 centre (195.8405, 170.2812) radius 2.1
  arc A170 (180.8405, 215.2812) -> (180.8405, 175.2812) centre (180.8405, 195.2812) ccw
  line L102 (205.3405, 113.7812) -> (205.3405, 110.7812)
  line L103 (205.8405, 129.2812) -> (205.8405, 139.2812)
  line L104 (177.8405, 99.7812) -> (174.3405, 99.7812)
  circle A171 centre (235.8405, 195.2812) radius 2.6
  circle A172 centre (195.8405, 129.2812) radius 1.25
  line L105 (191.3405, 113.7812) -> (191.3405, 110.7812)
  arc A173 (175.8405, 225.2812) -> (155.8405, 205.2812) centre (175.8405, 205.2812) ccw
  circle A174 centre (162.8405, 175.2812) radius 1.75
  arc A175 (230.8405, 145.2812) -> (235.8405, 150.2812) centre (230.8405, 150.2812) ccw
  arc A176 (177.8405, 99.7812) -> (182.8405, 104.7812) centre (177.8405, 104.7812) ccw
  circle A177 centre (228.8405, 215.2812) radius 1.75
  circle A178 centre (175.8405, 220.2812) radius 2.1
  line L106 (213.8405, 145.2812) -> (230.8405, 145.2812)
  line L107 (214.3405, 90.7812) -> (214.3405, 93.7812)
  circle A179 centre (195.8405, 139.2812) radius 1.25
  point P0 (0, 0)
extrude "Extrusion1" add sketch "Sketch1" along normal blind 1.25
properties part number "xcarriage"
